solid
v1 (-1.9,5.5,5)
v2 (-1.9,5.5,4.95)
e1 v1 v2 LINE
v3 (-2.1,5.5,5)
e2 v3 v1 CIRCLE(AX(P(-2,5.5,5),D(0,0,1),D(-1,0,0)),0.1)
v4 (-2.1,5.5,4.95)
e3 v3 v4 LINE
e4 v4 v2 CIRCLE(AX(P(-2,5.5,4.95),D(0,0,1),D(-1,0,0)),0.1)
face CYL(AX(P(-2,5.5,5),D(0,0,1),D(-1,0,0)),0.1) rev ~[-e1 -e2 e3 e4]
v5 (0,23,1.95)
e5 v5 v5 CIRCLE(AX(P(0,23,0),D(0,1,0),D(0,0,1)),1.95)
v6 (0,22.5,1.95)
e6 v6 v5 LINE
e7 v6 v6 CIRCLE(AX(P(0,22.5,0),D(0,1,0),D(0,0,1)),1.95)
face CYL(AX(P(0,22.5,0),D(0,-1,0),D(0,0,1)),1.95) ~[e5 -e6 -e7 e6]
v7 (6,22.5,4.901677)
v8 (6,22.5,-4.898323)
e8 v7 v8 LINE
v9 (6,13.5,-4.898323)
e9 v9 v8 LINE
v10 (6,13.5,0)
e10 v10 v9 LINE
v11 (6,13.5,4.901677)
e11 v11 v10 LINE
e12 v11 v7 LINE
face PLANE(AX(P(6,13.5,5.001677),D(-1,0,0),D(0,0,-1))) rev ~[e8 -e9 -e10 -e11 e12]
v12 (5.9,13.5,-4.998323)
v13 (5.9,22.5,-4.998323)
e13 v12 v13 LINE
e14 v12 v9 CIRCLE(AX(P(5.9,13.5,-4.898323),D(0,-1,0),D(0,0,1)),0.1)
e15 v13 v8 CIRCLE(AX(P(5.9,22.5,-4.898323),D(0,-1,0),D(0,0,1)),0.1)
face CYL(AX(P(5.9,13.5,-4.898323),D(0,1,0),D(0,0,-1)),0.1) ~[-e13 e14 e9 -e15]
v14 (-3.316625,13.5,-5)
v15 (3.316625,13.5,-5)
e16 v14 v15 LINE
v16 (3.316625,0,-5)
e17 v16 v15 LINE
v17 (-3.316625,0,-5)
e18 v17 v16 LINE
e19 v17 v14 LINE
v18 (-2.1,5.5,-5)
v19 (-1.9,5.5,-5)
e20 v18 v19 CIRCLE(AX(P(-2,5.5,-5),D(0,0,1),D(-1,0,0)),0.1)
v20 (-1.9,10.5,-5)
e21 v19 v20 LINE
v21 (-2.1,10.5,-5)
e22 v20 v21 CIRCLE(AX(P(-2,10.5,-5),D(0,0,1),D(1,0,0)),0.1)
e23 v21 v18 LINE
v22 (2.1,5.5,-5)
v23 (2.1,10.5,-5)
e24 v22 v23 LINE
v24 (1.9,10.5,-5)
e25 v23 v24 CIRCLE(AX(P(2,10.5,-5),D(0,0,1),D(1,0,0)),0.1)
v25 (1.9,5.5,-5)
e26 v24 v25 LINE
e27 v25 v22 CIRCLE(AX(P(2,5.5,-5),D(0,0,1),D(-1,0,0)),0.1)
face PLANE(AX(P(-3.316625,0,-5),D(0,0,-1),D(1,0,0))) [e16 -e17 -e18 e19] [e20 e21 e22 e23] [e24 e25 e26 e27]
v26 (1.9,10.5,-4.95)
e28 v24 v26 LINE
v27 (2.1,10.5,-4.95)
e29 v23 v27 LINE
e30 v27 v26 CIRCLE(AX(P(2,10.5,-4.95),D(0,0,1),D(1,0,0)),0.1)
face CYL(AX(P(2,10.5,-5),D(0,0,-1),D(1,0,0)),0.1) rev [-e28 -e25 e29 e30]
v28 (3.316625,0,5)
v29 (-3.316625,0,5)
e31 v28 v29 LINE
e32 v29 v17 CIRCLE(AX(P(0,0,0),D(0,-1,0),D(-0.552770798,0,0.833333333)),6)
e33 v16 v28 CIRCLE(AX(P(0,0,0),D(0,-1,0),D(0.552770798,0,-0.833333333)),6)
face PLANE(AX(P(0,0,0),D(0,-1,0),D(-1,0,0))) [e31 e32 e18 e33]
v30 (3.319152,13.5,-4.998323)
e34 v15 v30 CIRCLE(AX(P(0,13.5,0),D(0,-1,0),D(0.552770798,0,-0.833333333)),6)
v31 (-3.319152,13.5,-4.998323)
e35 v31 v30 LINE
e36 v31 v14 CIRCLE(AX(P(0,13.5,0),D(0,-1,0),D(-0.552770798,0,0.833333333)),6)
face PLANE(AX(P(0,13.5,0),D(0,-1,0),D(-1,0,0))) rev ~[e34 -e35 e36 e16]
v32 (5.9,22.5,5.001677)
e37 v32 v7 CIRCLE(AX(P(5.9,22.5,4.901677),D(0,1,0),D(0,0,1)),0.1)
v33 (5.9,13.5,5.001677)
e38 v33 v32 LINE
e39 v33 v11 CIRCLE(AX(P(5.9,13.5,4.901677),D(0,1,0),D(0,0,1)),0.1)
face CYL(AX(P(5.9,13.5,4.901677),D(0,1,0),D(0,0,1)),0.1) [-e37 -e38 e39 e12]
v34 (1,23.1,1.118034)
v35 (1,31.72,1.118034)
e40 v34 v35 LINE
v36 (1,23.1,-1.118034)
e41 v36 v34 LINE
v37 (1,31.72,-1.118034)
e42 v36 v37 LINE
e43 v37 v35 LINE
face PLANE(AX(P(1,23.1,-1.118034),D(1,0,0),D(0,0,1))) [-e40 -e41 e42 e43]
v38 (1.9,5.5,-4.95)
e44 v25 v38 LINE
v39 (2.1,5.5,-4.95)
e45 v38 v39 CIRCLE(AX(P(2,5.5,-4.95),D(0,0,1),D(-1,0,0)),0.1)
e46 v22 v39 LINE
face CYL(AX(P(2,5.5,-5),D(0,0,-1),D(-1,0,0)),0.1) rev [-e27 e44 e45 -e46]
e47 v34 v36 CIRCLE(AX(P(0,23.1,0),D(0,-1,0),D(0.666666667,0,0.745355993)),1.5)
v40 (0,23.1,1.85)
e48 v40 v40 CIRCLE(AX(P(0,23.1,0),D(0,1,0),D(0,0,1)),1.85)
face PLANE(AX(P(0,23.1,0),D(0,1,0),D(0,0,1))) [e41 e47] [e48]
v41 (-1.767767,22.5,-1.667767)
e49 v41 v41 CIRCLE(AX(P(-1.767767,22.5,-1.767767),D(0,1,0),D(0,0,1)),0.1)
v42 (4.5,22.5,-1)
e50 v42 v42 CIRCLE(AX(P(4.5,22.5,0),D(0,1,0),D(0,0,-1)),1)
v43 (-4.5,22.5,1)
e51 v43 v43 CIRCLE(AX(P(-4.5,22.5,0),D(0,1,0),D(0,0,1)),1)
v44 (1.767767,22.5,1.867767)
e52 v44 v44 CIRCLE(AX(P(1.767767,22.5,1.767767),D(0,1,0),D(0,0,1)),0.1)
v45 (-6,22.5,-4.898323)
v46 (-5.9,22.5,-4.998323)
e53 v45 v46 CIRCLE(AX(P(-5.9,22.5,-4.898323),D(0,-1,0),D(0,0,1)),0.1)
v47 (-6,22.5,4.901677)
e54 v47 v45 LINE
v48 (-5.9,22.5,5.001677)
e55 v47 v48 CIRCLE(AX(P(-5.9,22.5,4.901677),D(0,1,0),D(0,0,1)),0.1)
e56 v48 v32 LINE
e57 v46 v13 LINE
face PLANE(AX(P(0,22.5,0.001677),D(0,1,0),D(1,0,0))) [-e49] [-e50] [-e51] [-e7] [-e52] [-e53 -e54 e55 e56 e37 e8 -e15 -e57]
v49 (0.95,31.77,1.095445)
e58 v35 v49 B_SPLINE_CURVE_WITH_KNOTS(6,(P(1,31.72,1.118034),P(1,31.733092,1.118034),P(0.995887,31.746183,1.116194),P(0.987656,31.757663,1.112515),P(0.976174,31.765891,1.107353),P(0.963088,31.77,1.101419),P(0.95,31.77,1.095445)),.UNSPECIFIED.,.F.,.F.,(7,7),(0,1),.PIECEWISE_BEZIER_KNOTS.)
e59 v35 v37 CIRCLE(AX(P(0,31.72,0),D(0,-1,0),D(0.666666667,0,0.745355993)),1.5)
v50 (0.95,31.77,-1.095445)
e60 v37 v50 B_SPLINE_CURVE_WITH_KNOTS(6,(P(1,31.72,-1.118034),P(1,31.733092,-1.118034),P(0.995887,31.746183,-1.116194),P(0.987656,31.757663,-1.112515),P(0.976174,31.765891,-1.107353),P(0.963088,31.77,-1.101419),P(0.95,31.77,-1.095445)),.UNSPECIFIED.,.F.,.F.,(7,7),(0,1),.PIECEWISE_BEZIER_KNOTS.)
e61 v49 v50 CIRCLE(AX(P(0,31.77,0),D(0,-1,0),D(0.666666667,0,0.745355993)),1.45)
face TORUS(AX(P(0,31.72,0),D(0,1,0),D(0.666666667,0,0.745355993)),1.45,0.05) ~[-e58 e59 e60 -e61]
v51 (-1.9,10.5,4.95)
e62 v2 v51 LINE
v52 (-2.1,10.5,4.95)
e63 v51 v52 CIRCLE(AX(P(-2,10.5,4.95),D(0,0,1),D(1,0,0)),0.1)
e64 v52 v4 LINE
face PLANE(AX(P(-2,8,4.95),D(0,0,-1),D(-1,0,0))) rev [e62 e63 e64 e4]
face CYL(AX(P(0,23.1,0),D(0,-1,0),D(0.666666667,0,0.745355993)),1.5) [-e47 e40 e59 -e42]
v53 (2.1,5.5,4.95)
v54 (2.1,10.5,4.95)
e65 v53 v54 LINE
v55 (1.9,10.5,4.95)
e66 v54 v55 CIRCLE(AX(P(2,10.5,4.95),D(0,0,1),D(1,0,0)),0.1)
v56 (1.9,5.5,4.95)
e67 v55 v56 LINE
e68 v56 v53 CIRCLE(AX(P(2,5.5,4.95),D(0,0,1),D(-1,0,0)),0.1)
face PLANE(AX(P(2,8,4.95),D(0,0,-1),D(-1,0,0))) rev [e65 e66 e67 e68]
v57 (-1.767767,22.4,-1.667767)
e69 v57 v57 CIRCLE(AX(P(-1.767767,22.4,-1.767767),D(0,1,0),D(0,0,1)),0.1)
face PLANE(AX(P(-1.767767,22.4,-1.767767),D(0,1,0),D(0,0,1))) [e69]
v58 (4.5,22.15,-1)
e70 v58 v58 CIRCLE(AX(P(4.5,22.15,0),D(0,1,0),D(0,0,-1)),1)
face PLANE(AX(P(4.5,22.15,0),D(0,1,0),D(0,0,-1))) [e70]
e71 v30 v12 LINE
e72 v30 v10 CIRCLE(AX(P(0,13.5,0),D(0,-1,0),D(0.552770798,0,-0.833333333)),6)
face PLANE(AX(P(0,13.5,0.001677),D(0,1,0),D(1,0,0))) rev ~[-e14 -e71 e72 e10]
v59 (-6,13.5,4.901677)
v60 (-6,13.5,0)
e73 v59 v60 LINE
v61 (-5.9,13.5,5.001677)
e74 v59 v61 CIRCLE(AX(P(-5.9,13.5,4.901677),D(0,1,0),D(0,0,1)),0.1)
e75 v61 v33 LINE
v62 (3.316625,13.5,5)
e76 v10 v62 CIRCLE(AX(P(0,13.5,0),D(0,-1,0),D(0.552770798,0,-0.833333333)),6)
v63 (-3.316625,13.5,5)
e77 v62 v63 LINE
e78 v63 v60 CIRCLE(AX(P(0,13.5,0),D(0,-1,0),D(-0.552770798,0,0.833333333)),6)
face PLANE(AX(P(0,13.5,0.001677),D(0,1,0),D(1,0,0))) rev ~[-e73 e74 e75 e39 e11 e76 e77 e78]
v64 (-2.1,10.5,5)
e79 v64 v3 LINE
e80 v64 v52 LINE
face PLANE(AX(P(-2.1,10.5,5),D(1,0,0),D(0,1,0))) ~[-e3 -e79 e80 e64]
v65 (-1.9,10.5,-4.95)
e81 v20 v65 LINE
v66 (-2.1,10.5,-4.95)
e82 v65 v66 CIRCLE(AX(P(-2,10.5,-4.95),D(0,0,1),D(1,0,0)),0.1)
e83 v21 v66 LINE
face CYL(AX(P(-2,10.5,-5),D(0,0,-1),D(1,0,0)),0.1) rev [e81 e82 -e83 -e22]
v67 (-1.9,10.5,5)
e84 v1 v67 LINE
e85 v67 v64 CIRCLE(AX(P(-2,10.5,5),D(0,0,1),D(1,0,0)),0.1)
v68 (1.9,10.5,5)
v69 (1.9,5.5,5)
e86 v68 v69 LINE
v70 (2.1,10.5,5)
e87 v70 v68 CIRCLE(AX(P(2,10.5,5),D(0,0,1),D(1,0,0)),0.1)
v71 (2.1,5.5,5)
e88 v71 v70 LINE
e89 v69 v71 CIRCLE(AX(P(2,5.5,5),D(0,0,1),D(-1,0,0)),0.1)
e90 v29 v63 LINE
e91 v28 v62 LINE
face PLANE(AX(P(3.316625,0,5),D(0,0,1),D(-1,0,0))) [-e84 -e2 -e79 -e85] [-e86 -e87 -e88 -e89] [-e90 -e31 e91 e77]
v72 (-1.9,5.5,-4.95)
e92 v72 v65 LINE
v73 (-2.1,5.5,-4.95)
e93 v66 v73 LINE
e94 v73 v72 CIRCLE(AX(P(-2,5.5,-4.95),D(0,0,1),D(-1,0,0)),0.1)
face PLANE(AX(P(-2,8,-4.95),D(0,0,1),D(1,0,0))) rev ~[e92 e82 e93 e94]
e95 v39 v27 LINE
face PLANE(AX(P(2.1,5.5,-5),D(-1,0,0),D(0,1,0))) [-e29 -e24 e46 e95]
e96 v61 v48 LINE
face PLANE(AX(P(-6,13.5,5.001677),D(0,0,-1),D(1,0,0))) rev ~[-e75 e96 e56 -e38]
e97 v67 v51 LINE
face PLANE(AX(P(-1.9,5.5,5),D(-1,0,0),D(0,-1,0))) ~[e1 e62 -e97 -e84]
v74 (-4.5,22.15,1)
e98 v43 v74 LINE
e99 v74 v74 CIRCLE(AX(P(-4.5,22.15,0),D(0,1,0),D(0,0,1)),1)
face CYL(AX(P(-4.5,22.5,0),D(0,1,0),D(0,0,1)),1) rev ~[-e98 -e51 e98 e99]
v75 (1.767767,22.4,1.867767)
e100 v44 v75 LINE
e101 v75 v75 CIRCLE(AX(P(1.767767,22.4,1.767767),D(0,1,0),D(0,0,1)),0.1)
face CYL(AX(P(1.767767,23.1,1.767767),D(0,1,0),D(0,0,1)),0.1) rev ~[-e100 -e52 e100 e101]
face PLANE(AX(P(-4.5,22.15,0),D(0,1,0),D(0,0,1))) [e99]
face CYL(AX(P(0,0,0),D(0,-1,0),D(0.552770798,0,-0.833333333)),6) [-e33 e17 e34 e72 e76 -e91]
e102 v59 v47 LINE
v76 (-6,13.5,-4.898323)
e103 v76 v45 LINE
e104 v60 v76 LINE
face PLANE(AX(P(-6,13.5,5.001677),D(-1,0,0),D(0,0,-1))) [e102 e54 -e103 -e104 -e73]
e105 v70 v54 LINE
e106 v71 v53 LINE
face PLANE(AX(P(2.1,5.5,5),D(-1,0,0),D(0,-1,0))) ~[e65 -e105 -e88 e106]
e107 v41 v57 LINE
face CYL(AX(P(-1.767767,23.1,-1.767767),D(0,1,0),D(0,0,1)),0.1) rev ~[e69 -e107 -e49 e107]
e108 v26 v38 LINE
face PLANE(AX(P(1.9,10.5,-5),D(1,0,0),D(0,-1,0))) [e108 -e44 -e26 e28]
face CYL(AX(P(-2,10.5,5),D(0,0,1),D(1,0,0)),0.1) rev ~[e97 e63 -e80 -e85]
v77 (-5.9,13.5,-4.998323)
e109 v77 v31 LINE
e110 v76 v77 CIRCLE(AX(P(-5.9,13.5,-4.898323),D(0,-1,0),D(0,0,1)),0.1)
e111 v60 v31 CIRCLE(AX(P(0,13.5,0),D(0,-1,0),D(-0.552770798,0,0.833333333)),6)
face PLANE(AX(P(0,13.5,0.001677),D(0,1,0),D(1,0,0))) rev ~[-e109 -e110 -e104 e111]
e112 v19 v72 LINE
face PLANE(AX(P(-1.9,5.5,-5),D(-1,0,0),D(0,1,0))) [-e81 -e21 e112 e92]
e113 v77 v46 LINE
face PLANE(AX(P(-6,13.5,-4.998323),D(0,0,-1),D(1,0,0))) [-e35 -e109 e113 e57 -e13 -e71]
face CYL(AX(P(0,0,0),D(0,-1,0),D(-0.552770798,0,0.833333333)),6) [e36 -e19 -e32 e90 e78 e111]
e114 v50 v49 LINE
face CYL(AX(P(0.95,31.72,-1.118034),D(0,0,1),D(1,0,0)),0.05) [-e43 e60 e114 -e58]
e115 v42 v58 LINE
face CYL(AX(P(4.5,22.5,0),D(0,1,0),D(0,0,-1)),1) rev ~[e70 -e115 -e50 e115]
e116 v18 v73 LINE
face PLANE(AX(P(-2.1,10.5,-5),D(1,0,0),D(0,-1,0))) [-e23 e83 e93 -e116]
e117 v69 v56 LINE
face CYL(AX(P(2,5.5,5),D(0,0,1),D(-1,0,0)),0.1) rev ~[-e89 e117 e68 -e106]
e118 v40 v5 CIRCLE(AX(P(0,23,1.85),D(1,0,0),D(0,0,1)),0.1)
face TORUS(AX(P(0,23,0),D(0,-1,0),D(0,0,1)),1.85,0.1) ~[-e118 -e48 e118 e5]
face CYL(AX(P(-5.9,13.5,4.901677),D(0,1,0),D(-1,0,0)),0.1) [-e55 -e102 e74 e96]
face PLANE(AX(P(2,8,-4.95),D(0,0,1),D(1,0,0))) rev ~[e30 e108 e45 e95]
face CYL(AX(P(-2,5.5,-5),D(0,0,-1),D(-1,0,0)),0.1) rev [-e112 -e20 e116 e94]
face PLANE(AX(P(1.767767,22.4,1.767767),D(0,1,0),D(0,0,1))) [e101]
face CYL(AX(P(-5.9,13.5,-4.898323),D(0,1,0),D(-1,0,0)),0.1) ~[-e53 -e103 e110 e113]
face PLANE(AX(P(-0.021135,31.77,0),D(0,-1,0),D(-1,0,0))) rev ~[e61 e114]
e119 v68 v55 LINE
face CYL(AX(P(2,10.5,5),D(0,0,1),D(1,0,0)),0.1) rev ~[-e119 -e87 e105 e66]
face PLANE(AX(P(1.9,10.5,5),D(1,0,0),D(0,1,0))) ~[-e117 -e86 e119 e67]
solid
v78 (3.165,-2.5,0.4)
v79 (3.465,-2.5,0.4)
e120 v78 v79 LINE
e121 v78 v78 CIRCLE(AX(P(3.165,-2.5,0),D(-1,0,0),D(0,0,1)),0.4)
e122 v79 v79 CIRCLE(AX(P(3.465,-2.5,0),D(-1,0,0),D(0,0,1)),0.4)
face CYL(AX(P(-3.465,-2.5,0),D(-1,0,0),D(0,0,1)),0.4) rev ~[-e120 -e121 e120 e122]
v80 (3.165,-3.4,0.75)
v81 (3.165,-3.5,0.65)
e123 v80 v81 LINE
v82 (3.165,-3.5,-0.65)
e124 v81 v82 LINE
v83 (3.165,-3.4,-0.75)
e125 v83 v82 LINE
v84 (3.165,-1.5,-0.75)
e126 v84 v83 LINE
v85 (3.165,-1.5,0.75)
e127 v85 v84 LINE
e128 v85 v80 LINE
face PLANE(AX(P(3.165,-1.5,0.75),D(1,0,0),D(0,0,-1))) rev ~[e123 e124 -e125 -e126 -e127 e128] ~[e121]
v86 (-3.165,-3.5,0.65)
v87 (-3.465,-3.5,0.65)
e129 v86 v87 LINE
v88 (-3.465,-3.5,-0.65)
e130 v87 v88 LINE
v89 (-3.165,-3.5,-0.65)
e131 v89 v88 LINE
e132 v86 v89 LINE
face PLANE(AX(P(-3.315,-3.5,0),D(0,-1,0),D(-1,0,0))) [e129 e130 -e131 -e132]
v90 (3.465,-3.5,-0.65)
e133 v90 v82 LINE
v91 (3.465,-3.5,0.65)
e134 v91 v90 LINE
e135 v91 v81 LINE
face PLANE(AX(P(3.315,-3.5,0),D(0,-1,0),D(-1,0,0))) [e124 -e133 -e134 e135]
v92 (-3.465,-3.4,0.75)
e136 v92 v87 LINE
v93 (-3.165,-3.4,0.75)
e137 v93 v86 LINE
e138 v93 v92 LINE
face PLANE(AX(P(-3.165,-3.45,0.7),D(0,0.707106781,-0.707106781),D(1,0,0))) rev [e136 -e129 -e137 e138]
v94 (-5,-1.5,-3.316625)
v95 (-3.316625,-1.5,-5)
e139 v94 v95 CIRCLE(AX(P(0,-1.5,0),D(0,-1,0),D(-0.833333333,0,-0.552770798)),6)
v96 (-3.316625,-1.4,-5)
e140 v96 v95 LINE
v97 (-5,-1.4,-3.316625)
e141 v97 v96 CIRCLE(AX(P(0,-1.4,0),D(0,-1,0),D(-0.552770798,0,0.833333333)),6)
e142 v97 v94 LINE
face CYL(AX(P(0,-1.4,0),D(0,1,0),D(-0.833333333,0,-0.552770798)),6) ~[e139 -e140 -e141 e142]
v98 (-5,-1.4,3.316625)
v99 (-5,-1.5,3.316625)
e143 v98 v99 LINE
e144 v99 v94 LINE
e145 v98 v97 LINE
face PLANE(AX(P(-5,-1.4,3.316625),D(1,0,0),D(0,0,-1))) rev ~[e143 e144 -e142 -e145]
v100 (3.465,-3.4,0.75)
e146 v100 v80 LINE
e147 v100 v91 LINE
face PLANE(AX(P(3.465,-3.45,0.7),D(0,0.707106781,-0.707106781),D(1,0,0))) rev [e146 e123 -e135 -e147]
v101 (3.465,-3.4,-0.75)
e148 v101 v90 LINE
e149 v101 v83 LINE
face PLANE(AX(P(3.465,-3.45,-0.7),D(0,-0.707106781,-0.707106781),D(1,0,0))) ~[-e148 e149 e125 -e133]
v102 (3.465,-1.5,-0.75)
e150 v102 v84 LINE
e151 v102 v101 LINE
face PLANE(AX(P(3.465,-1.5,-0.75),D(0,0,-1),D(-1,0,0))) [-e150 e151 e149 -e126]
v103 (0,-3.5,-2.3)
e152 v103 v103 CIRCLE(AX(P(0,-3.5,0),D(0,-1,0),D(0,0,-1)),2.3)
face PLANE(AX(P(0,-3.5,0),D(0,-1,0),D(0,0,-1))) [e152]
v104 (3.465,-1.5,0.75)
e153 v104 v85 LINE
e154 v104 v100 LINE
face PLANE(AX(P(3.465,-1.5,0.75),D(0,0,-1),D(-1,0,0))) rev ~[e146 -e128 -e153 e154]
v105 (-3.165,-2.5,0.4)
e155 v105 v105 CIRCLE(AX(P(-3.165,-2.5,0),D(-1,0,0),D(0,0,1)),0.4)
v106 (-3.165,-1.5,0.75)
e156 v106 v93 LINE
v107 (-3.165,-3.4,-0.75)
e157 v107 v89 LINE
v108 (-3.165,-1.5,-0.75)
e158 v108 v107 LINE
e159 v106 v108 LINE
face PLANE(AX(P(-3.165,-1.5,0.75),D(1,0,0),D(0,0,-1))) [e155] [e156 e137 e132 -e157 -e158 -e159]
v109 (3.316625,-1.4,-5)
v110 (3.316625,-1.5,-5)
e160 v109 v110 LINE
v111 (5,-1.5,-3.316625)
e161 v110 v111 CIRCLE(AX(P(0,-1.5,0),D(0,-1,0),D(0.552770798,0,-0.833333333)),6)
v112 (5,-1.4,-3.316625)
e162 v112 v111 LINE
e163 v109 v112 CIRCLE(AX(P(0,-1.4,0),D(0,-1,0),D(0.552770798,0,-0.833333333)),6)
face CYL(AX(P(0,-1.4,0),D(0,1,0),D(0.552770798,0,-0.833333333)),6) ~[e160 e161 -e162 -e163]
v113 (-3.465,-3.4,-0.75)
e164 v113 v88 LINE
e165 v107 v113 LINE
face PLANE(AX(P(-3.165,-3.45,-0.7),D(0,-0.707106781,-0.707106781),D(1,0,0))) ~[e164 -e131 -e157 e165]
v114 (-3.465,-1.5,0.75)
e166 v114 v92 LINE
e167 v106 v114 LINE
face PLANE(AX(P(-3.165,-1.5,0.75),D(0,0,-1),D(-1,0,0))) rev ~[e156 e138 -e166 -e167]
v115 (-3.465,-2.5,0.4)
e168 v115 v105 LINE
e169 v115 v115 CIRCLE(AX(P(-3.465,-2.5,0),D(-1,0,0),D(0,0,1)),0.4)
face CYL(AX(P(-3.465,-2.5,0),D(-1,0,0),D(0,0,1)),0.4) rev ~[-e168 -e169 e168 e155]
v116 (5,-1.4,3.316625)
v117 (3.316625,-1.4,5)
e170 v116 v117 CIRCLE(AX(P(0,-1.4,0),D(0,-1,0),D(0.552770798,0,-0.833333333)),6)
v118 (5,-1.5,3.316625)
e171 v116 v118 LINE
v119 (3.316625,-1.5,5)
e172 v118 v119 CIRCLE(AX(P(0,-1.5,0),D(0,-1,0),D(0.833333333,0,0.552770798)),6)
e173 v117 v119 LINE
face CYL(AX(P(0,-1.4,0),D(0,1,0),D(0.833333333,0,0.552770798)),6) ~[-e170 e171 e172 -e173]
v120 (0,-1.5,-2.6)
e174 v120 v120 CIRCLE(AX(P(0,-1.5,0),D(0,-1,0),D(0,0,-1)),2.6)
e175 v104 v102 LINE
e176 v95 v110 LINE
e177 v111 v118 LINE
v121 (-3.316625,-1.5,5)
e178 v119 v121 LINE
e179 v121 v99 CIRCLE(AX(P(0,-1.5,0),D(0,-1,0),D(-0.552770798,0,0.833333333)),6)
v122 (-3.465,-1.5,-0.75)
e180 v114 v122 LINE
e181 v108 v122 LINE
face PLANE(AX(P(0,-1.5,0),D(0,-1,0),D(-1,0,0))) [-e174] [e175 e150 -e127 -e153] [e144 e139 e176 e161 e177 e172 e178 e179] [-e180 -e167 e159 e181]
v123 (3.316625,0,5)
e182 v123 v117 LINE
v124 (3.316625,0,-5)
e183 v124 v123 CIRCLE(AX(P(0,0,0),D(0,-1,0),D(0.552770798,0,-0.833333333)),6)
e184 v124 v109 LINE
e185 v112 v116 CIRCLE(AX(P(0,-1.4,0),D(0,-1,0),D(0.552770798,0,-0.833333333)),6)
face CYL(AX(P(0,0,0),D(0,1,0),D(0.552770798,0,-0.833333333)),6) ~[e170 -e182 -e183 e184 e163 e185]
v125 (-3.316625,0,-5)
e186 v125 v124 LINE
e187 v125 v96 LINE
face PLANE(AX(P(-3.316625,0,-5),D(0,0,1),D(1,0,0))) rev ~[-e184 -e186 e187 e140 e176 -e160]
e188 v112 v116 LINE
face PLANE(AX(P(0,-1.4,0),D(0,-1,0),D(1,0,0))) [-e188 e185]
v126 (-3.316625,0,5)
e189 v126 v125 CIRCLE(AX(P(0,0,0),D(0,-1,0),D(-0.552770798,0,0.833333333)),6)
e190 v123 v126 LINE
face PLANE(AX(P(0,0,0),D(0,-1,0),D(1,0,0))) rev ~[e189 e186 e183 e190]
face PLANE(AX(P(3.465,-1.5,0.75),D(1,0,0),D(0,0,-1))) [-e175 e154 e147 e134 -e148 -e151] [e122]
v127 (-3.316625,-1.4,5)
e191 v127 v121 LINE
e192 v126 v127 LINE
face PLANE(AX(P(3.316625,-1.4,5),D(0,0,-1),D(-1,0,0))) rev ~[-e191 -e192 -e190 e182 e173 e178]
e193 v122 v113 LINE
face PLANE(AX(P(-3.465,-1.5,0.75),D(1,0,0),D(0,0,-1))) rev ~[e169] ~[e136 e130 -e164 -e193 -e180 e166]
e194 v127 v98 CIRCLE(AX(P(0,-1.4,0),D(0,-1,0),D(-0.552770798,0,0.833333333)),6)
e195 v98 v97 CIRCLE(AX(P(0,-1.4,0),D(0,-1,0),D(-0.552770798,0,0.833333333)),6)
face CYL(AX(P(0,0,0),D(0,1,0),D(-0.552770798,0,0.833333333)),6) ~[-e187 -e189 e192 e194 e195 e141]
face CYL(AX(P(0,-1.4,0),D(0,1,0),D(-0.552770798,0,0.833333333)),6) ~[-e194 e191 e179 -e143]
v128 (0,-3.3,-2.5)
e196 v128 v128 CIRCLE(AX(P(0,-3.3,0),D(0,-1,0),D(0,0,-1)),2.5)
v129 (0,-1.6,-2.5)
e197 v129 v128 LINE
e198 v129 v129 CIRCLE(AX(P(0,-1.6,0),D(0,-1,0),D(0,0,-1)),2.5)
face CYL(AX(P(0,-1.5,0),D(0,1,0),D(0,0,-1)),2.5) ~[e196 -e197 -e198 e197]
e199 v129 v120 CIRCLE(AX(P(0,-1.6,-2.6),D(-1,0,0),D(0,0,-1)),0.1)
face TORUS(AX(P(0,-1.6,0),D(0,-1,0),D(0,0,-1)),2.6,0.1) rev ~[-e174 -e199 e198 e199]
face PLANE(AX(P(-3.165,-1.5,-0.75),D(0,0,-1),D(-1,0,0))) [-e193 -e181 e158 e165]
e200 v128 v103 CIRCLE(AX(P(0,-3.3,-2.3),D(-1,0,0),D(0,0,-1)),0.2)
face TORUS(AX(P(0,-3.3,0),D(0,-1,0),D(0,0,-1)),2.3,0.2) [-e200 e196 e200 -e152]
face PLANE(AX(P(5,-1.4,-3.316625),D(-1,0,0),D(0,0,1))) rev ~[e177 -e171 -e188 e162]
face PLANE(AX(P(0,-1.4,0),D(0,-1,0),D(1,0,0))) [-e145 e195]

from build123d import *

# Parameters (mm, degrees)
EXTRUDE_1_DEPTH     = 13.5
SKETCH_2_W          = 12
SKETCH_2_H          = 10
EXTRUDE_2_DEPTH     = 9
SKETCH_3_R          = 1.95
EXTRUDE_3_DEPTH     = 0.6
EXTRUDE_4_DEPTH     = 8.67
SKETCH_5_R          = 1
CUT_EXTRUDE_1_DEPTH = 0.35
FILLET_1_R          = 0.1
EXTRUDE_6_DEPTH     = 1.4
EXTRUDE_7_DEPTH     = 0.1
SKETCH_8_W          = 0.3
SKETCH_8_H          = 1.5
EXTRUDE_8_DEPTH     = 2
CHAMFER_1_SIZE      = 0.1
SKETCH_9_R          = 0.4
CUT_EXTRUDE_2_DEPTH = 7
SKETCH_10_R         = 2.5
EXTRUDE_9_DEPTH     = 2
FILLET_2_R          = 0.2
SKETCH_11_R         = 0.1
CUT_EXTRUDE_3_DEPTH = 0.7
FILLET_3_R          = 0.1
CUT_EXTRUDE_4_DEPTH = 0.05
FILLET_4_R          = 0.05
FILLET_5_R          = 0.1


with BuildPart() as part:
    # Эскиз1 → Бобышка-Вытянуть1 (new body)
    with BuildSketch(Plane(origin=(0, 0, 0), x_dir=(1, 0, 0), z_dir=(0, 1, 0))):
        with BuildLine():
            Line((-3.31662479, 5), (3.31662479, 5))
            ThreePointArc((3.31662479, 5), (6, 0), (3.31662479, -5))
            Line((3.31662479, -5), (-3.31662479, -5))
            ThreePointArc((-3.31662479, -5), (-6, 0), (-3.31662479, 5))
        make_face()
    extrude(amount=EXTRUDE_1_DEPTH)

    # Эскиз2 → Бобышка-Вытянуть2 (add)
    with BuildSketch(Plane(origin=(0, 13.5, 0), x_dir=(1, 0, 0), z_dir=(0, 1, 0))):
        with Locations((0, -0.001677367)):
            Rectangle(SKETCH_2_W, SKETCH_2_H)
    extrude(amount=EXTRUDE_2_DEPTH)

    # Эскиз3 → Бобышка-Вытянуть3 (add)
    with BuildSketch(Plane(origin=(0, 22.5, 0), x_dir=(1, 0, 0), z_dir=(0, 1, 0))):
        with Locations(Location((0, 0, 0), (0, 0, 270))):
            Circle(SKETCH_3_R)
    extrude(amount=EXTRUDE_3_DEPTH)

    # Эскиз4 → Бобышка-Вытянуть4 (add)
    with BuildSketch(Plane(origin=(0, 23.1, 0), x_dir=(1, 0, 0), z_dir=(0, 1, 0))):
        with BuildLine():
            Line((1, 1.118033989), (1, -1.118033989))
            ThreePointArc((1, -1.118033989), (-1.5, 0), (1, 1.118033989))
        make_face()
    extrude(amount=EXTRUDE_4_DEPTH)

    # Эскиз5 → Вырез-Вытянуть1 (cut)
    with BuildSketch(Plane(origin=(0, 22.5, 0), x_dir=(1, 0, 0), z_dir=(0, 1, 0))):
        with Locations(Location((-4.5, 0, 0), (0, 0, 270))):
            Circle(SKETCH_5_R)
        with Locations(Location((4.5, 0, 0), (0, 0, 90))):
            Circle(SKETCH_5_R)
    extrude(amount=-CUT_EXTRUDE_1_DEPTH, mode=Mode.SUBTRACT)

    # Скругление1
    fillet_1_edges = [part.edges().sort_by_distance(p)[0] for p in [
        (-6, 18, 5.001677367),
        (6, 18, 5.001677367),
        (6, 18, -4.998322633),
        (-6, 18, -4.998322633),
    ]]
    fillet(fillet_1_edges, radius=FILLET_1_R)

    # Эскиз11 → Вырез-Вытянуть3 (cut)
    with BuildSketch(Plane(origin=(0, 23.1, 0), x_dir=(1, 0, 0), z_dir=(0, 1, 0))):
        with Locations(Location((1.767766953, -1.767766953, 0), (0, 0, 270))):
            Circle(SKETCH_11_R)
        with Locations(Location((-1.767766953, 1.767766953, 0), (0, 0, 270))):
            Circle(SKETCH_11_R)
    extrude(amount=-CUT_EXTRUDE_3_DEPTH, mode=Mode.SUBTRACT)

    # Эскиз12 → Вырез-Вытянуть4 (cut)
    with BuildSketch(Plane(origin=(0, 0, -5), x_dir=(-1, 0, 0), z_dir=(0, 0, -1))):
        with BuildLine():
            Line((1.9, 5.5), (1.9, 10.5))
            ThreePointArc((1.9, 10.5), (2, 10.6), (2.1, 10.5))
            Line((2.1, 10.5), (2.1, 5.5))
            ThreePointArc((2.1, 5.5), (2, 5.4), (1.9, 5.5))
        make_face()
        with BuildLine():
            Line((-2.1, 5.5), (-2.1, 10.5))
            ThreePointArc((-2.1, 10.5), (-2, 10.6), (-1.9, 10.5))
            Line((-1.9, 10.5), (-1.9, 5.5))
            ThreePointArc((-1.9, 5.5), (-2, 5.4), (-2.1, 5.5))
        make_face()
    cut_extrude_4 = extrude(amount=-CUT_EXTRUDE_4_DEPTH, mode=Mode.SUBTRACT)

    # Зеркальное отражение1: Вырез-Вытянуть4 across plane
    add(cut_extrude_4.mirror(Plane(origin=(0, 0, 0), x_dir=(1, 0, 0), z_dir=(0, 0, -1))), mode=Mode.SUBTRACT)

    # Скругление4
    fillet_4_edges = [part.edges().sort_by_distance(p)[0] for p in [
        (-1.5, 31.77, 0),
        (1, 31.77, 0),
    ]]
    fillet(fillet_4_edges, radius=FILLET_4_R)

    # Скругление5
    fillet_5_edges = [part.edges().sort_by_distance(p)[0] for p in [
        (0, 23.1, -1.95),
    ]]
    fillet(fillet_5_edges, radius=FILLET_5_R)


with BuildPart() as body_2:
    # Эскиз6 → Бобышка-Вытянуть6 (new body)
    with BuildSketch(Plane.XZ):
        with BuildLine():
            Line((-3.31662479, -5), (3.31662479, -5))
            ThreePointArc((3.31662479, -5), (6, 0), (3.31662479, 5))
            Line((3.31662479, 5), (-3.31662479, 5))
            ThreePointArc((-3.31662479, 5), (-6, 0), (-3.31662479, -5))
        make_face()
    extrude(amount=EXTRUDE_6_DEPTH)

    # Эскиз7 → Бобышка-Вытянуть7 (add)
    with BuildSketch(Plane(origin=(0, -1.4, 0), x_dir=(-1, 0, 0), z_dir=(0, -1, 0))):
        with BuildLine():
            ThreePointArc((3.31662479, -5), (4.242640687, -4.242640687), (5, -3.31662479))
            Line((5, -3.31662479), (5, 3.31662479))
            ThreePointArc((5, 3.31662479), (4.242640687, 4.242640687), (3.31662479, 5))
            Line((3.31662479, 5), (-3.31662479, 5))
            ThreePointArc((-3.31662479, 5), (-4.242640687, 4.242640687), (-5, 3.31662479))
            Line((-5, 3.31662479), (-5, -3.31662479))
            ThreePointArc((-5, -3.31662479), (-4.242640687, -4.242640687), (-3.31662479, -5))
            Line((-3.31662479, -5), (3.31662479, -5))
        make_face()
    extrude(amount=EXTRUDE_7_DEPTH)

    # Эскиз8 → Бобышка-Вытянуть8 (add)
    with BuildSketch(Plane(origin=(0, -1.5, 0), x_dir=(-1, 0, 0), z_dir=(0, -1, 0))):
        with Locations((3.315, 0)):
            Rectangle(SKETCH_8_W, SKETCH_8_H)
        with Locations((-3.315, 0)):
            Rectangle(SKETCH_8_W, SKETCH_8_H)
    extrude(amount=EXTRUDE_8_DEPTH)

    # Фаска1
    chamfer_1_edges = [body_2.edges().sort_by_distance(p)[0] for p in [
        (-3.315, -3.5, -0.75),
        (-3.315, -3.5, 0.75),
        (3.315, -3.5, 0.75),
        (3.315, -3.5, -0.75),
    ]]
    chamfer(chamfer_1_edges, length=CHAMFER_1_SIZE)

    # Эскиз9 → Вырез-Вытянуть2 (cut)
    with BuildSketch(Plane.ZY.offset(3.465)):
        with Locations((0, -2.5)):
            Circle(SKETCH_9_R)
    extrude(amount=-CUT_EXTRUDE_2_DEPTH, mode=Mode.SUBTRACT)

    # Эскиз10 → Бобышка-Вытянуть9 (add)
    with BuildSketch(Plane(origin=(0, -1.5, 0), x_dir=(-1, 0, 0), z_dir=(0, -1, 0))):
        with Locations(Location((0, 0, 0), (0, 0, 90))):
            Circle(SKETCH_10_R)
    extrude(amount=EXTRUDE_9_DEPTH)

    # Скругление2
    fillet_2_edges = [body_2.edges().sort_by_distance(p)[0] for p in [
        (0, -3.5, 2.5),
    ]]
    fillet(fillet_2_edges, radius=FILLET_2_R)

    # Скругление3
    fillet_3_edges = [body_2.edges().sort_by_distance(p)[0] for p in [
        (0, -1.5, 2.5),
    ]]
    fillet(fillet_3_edges, radius=FILLET_3_R)


solid = Compound([part.part, body_2.part])
